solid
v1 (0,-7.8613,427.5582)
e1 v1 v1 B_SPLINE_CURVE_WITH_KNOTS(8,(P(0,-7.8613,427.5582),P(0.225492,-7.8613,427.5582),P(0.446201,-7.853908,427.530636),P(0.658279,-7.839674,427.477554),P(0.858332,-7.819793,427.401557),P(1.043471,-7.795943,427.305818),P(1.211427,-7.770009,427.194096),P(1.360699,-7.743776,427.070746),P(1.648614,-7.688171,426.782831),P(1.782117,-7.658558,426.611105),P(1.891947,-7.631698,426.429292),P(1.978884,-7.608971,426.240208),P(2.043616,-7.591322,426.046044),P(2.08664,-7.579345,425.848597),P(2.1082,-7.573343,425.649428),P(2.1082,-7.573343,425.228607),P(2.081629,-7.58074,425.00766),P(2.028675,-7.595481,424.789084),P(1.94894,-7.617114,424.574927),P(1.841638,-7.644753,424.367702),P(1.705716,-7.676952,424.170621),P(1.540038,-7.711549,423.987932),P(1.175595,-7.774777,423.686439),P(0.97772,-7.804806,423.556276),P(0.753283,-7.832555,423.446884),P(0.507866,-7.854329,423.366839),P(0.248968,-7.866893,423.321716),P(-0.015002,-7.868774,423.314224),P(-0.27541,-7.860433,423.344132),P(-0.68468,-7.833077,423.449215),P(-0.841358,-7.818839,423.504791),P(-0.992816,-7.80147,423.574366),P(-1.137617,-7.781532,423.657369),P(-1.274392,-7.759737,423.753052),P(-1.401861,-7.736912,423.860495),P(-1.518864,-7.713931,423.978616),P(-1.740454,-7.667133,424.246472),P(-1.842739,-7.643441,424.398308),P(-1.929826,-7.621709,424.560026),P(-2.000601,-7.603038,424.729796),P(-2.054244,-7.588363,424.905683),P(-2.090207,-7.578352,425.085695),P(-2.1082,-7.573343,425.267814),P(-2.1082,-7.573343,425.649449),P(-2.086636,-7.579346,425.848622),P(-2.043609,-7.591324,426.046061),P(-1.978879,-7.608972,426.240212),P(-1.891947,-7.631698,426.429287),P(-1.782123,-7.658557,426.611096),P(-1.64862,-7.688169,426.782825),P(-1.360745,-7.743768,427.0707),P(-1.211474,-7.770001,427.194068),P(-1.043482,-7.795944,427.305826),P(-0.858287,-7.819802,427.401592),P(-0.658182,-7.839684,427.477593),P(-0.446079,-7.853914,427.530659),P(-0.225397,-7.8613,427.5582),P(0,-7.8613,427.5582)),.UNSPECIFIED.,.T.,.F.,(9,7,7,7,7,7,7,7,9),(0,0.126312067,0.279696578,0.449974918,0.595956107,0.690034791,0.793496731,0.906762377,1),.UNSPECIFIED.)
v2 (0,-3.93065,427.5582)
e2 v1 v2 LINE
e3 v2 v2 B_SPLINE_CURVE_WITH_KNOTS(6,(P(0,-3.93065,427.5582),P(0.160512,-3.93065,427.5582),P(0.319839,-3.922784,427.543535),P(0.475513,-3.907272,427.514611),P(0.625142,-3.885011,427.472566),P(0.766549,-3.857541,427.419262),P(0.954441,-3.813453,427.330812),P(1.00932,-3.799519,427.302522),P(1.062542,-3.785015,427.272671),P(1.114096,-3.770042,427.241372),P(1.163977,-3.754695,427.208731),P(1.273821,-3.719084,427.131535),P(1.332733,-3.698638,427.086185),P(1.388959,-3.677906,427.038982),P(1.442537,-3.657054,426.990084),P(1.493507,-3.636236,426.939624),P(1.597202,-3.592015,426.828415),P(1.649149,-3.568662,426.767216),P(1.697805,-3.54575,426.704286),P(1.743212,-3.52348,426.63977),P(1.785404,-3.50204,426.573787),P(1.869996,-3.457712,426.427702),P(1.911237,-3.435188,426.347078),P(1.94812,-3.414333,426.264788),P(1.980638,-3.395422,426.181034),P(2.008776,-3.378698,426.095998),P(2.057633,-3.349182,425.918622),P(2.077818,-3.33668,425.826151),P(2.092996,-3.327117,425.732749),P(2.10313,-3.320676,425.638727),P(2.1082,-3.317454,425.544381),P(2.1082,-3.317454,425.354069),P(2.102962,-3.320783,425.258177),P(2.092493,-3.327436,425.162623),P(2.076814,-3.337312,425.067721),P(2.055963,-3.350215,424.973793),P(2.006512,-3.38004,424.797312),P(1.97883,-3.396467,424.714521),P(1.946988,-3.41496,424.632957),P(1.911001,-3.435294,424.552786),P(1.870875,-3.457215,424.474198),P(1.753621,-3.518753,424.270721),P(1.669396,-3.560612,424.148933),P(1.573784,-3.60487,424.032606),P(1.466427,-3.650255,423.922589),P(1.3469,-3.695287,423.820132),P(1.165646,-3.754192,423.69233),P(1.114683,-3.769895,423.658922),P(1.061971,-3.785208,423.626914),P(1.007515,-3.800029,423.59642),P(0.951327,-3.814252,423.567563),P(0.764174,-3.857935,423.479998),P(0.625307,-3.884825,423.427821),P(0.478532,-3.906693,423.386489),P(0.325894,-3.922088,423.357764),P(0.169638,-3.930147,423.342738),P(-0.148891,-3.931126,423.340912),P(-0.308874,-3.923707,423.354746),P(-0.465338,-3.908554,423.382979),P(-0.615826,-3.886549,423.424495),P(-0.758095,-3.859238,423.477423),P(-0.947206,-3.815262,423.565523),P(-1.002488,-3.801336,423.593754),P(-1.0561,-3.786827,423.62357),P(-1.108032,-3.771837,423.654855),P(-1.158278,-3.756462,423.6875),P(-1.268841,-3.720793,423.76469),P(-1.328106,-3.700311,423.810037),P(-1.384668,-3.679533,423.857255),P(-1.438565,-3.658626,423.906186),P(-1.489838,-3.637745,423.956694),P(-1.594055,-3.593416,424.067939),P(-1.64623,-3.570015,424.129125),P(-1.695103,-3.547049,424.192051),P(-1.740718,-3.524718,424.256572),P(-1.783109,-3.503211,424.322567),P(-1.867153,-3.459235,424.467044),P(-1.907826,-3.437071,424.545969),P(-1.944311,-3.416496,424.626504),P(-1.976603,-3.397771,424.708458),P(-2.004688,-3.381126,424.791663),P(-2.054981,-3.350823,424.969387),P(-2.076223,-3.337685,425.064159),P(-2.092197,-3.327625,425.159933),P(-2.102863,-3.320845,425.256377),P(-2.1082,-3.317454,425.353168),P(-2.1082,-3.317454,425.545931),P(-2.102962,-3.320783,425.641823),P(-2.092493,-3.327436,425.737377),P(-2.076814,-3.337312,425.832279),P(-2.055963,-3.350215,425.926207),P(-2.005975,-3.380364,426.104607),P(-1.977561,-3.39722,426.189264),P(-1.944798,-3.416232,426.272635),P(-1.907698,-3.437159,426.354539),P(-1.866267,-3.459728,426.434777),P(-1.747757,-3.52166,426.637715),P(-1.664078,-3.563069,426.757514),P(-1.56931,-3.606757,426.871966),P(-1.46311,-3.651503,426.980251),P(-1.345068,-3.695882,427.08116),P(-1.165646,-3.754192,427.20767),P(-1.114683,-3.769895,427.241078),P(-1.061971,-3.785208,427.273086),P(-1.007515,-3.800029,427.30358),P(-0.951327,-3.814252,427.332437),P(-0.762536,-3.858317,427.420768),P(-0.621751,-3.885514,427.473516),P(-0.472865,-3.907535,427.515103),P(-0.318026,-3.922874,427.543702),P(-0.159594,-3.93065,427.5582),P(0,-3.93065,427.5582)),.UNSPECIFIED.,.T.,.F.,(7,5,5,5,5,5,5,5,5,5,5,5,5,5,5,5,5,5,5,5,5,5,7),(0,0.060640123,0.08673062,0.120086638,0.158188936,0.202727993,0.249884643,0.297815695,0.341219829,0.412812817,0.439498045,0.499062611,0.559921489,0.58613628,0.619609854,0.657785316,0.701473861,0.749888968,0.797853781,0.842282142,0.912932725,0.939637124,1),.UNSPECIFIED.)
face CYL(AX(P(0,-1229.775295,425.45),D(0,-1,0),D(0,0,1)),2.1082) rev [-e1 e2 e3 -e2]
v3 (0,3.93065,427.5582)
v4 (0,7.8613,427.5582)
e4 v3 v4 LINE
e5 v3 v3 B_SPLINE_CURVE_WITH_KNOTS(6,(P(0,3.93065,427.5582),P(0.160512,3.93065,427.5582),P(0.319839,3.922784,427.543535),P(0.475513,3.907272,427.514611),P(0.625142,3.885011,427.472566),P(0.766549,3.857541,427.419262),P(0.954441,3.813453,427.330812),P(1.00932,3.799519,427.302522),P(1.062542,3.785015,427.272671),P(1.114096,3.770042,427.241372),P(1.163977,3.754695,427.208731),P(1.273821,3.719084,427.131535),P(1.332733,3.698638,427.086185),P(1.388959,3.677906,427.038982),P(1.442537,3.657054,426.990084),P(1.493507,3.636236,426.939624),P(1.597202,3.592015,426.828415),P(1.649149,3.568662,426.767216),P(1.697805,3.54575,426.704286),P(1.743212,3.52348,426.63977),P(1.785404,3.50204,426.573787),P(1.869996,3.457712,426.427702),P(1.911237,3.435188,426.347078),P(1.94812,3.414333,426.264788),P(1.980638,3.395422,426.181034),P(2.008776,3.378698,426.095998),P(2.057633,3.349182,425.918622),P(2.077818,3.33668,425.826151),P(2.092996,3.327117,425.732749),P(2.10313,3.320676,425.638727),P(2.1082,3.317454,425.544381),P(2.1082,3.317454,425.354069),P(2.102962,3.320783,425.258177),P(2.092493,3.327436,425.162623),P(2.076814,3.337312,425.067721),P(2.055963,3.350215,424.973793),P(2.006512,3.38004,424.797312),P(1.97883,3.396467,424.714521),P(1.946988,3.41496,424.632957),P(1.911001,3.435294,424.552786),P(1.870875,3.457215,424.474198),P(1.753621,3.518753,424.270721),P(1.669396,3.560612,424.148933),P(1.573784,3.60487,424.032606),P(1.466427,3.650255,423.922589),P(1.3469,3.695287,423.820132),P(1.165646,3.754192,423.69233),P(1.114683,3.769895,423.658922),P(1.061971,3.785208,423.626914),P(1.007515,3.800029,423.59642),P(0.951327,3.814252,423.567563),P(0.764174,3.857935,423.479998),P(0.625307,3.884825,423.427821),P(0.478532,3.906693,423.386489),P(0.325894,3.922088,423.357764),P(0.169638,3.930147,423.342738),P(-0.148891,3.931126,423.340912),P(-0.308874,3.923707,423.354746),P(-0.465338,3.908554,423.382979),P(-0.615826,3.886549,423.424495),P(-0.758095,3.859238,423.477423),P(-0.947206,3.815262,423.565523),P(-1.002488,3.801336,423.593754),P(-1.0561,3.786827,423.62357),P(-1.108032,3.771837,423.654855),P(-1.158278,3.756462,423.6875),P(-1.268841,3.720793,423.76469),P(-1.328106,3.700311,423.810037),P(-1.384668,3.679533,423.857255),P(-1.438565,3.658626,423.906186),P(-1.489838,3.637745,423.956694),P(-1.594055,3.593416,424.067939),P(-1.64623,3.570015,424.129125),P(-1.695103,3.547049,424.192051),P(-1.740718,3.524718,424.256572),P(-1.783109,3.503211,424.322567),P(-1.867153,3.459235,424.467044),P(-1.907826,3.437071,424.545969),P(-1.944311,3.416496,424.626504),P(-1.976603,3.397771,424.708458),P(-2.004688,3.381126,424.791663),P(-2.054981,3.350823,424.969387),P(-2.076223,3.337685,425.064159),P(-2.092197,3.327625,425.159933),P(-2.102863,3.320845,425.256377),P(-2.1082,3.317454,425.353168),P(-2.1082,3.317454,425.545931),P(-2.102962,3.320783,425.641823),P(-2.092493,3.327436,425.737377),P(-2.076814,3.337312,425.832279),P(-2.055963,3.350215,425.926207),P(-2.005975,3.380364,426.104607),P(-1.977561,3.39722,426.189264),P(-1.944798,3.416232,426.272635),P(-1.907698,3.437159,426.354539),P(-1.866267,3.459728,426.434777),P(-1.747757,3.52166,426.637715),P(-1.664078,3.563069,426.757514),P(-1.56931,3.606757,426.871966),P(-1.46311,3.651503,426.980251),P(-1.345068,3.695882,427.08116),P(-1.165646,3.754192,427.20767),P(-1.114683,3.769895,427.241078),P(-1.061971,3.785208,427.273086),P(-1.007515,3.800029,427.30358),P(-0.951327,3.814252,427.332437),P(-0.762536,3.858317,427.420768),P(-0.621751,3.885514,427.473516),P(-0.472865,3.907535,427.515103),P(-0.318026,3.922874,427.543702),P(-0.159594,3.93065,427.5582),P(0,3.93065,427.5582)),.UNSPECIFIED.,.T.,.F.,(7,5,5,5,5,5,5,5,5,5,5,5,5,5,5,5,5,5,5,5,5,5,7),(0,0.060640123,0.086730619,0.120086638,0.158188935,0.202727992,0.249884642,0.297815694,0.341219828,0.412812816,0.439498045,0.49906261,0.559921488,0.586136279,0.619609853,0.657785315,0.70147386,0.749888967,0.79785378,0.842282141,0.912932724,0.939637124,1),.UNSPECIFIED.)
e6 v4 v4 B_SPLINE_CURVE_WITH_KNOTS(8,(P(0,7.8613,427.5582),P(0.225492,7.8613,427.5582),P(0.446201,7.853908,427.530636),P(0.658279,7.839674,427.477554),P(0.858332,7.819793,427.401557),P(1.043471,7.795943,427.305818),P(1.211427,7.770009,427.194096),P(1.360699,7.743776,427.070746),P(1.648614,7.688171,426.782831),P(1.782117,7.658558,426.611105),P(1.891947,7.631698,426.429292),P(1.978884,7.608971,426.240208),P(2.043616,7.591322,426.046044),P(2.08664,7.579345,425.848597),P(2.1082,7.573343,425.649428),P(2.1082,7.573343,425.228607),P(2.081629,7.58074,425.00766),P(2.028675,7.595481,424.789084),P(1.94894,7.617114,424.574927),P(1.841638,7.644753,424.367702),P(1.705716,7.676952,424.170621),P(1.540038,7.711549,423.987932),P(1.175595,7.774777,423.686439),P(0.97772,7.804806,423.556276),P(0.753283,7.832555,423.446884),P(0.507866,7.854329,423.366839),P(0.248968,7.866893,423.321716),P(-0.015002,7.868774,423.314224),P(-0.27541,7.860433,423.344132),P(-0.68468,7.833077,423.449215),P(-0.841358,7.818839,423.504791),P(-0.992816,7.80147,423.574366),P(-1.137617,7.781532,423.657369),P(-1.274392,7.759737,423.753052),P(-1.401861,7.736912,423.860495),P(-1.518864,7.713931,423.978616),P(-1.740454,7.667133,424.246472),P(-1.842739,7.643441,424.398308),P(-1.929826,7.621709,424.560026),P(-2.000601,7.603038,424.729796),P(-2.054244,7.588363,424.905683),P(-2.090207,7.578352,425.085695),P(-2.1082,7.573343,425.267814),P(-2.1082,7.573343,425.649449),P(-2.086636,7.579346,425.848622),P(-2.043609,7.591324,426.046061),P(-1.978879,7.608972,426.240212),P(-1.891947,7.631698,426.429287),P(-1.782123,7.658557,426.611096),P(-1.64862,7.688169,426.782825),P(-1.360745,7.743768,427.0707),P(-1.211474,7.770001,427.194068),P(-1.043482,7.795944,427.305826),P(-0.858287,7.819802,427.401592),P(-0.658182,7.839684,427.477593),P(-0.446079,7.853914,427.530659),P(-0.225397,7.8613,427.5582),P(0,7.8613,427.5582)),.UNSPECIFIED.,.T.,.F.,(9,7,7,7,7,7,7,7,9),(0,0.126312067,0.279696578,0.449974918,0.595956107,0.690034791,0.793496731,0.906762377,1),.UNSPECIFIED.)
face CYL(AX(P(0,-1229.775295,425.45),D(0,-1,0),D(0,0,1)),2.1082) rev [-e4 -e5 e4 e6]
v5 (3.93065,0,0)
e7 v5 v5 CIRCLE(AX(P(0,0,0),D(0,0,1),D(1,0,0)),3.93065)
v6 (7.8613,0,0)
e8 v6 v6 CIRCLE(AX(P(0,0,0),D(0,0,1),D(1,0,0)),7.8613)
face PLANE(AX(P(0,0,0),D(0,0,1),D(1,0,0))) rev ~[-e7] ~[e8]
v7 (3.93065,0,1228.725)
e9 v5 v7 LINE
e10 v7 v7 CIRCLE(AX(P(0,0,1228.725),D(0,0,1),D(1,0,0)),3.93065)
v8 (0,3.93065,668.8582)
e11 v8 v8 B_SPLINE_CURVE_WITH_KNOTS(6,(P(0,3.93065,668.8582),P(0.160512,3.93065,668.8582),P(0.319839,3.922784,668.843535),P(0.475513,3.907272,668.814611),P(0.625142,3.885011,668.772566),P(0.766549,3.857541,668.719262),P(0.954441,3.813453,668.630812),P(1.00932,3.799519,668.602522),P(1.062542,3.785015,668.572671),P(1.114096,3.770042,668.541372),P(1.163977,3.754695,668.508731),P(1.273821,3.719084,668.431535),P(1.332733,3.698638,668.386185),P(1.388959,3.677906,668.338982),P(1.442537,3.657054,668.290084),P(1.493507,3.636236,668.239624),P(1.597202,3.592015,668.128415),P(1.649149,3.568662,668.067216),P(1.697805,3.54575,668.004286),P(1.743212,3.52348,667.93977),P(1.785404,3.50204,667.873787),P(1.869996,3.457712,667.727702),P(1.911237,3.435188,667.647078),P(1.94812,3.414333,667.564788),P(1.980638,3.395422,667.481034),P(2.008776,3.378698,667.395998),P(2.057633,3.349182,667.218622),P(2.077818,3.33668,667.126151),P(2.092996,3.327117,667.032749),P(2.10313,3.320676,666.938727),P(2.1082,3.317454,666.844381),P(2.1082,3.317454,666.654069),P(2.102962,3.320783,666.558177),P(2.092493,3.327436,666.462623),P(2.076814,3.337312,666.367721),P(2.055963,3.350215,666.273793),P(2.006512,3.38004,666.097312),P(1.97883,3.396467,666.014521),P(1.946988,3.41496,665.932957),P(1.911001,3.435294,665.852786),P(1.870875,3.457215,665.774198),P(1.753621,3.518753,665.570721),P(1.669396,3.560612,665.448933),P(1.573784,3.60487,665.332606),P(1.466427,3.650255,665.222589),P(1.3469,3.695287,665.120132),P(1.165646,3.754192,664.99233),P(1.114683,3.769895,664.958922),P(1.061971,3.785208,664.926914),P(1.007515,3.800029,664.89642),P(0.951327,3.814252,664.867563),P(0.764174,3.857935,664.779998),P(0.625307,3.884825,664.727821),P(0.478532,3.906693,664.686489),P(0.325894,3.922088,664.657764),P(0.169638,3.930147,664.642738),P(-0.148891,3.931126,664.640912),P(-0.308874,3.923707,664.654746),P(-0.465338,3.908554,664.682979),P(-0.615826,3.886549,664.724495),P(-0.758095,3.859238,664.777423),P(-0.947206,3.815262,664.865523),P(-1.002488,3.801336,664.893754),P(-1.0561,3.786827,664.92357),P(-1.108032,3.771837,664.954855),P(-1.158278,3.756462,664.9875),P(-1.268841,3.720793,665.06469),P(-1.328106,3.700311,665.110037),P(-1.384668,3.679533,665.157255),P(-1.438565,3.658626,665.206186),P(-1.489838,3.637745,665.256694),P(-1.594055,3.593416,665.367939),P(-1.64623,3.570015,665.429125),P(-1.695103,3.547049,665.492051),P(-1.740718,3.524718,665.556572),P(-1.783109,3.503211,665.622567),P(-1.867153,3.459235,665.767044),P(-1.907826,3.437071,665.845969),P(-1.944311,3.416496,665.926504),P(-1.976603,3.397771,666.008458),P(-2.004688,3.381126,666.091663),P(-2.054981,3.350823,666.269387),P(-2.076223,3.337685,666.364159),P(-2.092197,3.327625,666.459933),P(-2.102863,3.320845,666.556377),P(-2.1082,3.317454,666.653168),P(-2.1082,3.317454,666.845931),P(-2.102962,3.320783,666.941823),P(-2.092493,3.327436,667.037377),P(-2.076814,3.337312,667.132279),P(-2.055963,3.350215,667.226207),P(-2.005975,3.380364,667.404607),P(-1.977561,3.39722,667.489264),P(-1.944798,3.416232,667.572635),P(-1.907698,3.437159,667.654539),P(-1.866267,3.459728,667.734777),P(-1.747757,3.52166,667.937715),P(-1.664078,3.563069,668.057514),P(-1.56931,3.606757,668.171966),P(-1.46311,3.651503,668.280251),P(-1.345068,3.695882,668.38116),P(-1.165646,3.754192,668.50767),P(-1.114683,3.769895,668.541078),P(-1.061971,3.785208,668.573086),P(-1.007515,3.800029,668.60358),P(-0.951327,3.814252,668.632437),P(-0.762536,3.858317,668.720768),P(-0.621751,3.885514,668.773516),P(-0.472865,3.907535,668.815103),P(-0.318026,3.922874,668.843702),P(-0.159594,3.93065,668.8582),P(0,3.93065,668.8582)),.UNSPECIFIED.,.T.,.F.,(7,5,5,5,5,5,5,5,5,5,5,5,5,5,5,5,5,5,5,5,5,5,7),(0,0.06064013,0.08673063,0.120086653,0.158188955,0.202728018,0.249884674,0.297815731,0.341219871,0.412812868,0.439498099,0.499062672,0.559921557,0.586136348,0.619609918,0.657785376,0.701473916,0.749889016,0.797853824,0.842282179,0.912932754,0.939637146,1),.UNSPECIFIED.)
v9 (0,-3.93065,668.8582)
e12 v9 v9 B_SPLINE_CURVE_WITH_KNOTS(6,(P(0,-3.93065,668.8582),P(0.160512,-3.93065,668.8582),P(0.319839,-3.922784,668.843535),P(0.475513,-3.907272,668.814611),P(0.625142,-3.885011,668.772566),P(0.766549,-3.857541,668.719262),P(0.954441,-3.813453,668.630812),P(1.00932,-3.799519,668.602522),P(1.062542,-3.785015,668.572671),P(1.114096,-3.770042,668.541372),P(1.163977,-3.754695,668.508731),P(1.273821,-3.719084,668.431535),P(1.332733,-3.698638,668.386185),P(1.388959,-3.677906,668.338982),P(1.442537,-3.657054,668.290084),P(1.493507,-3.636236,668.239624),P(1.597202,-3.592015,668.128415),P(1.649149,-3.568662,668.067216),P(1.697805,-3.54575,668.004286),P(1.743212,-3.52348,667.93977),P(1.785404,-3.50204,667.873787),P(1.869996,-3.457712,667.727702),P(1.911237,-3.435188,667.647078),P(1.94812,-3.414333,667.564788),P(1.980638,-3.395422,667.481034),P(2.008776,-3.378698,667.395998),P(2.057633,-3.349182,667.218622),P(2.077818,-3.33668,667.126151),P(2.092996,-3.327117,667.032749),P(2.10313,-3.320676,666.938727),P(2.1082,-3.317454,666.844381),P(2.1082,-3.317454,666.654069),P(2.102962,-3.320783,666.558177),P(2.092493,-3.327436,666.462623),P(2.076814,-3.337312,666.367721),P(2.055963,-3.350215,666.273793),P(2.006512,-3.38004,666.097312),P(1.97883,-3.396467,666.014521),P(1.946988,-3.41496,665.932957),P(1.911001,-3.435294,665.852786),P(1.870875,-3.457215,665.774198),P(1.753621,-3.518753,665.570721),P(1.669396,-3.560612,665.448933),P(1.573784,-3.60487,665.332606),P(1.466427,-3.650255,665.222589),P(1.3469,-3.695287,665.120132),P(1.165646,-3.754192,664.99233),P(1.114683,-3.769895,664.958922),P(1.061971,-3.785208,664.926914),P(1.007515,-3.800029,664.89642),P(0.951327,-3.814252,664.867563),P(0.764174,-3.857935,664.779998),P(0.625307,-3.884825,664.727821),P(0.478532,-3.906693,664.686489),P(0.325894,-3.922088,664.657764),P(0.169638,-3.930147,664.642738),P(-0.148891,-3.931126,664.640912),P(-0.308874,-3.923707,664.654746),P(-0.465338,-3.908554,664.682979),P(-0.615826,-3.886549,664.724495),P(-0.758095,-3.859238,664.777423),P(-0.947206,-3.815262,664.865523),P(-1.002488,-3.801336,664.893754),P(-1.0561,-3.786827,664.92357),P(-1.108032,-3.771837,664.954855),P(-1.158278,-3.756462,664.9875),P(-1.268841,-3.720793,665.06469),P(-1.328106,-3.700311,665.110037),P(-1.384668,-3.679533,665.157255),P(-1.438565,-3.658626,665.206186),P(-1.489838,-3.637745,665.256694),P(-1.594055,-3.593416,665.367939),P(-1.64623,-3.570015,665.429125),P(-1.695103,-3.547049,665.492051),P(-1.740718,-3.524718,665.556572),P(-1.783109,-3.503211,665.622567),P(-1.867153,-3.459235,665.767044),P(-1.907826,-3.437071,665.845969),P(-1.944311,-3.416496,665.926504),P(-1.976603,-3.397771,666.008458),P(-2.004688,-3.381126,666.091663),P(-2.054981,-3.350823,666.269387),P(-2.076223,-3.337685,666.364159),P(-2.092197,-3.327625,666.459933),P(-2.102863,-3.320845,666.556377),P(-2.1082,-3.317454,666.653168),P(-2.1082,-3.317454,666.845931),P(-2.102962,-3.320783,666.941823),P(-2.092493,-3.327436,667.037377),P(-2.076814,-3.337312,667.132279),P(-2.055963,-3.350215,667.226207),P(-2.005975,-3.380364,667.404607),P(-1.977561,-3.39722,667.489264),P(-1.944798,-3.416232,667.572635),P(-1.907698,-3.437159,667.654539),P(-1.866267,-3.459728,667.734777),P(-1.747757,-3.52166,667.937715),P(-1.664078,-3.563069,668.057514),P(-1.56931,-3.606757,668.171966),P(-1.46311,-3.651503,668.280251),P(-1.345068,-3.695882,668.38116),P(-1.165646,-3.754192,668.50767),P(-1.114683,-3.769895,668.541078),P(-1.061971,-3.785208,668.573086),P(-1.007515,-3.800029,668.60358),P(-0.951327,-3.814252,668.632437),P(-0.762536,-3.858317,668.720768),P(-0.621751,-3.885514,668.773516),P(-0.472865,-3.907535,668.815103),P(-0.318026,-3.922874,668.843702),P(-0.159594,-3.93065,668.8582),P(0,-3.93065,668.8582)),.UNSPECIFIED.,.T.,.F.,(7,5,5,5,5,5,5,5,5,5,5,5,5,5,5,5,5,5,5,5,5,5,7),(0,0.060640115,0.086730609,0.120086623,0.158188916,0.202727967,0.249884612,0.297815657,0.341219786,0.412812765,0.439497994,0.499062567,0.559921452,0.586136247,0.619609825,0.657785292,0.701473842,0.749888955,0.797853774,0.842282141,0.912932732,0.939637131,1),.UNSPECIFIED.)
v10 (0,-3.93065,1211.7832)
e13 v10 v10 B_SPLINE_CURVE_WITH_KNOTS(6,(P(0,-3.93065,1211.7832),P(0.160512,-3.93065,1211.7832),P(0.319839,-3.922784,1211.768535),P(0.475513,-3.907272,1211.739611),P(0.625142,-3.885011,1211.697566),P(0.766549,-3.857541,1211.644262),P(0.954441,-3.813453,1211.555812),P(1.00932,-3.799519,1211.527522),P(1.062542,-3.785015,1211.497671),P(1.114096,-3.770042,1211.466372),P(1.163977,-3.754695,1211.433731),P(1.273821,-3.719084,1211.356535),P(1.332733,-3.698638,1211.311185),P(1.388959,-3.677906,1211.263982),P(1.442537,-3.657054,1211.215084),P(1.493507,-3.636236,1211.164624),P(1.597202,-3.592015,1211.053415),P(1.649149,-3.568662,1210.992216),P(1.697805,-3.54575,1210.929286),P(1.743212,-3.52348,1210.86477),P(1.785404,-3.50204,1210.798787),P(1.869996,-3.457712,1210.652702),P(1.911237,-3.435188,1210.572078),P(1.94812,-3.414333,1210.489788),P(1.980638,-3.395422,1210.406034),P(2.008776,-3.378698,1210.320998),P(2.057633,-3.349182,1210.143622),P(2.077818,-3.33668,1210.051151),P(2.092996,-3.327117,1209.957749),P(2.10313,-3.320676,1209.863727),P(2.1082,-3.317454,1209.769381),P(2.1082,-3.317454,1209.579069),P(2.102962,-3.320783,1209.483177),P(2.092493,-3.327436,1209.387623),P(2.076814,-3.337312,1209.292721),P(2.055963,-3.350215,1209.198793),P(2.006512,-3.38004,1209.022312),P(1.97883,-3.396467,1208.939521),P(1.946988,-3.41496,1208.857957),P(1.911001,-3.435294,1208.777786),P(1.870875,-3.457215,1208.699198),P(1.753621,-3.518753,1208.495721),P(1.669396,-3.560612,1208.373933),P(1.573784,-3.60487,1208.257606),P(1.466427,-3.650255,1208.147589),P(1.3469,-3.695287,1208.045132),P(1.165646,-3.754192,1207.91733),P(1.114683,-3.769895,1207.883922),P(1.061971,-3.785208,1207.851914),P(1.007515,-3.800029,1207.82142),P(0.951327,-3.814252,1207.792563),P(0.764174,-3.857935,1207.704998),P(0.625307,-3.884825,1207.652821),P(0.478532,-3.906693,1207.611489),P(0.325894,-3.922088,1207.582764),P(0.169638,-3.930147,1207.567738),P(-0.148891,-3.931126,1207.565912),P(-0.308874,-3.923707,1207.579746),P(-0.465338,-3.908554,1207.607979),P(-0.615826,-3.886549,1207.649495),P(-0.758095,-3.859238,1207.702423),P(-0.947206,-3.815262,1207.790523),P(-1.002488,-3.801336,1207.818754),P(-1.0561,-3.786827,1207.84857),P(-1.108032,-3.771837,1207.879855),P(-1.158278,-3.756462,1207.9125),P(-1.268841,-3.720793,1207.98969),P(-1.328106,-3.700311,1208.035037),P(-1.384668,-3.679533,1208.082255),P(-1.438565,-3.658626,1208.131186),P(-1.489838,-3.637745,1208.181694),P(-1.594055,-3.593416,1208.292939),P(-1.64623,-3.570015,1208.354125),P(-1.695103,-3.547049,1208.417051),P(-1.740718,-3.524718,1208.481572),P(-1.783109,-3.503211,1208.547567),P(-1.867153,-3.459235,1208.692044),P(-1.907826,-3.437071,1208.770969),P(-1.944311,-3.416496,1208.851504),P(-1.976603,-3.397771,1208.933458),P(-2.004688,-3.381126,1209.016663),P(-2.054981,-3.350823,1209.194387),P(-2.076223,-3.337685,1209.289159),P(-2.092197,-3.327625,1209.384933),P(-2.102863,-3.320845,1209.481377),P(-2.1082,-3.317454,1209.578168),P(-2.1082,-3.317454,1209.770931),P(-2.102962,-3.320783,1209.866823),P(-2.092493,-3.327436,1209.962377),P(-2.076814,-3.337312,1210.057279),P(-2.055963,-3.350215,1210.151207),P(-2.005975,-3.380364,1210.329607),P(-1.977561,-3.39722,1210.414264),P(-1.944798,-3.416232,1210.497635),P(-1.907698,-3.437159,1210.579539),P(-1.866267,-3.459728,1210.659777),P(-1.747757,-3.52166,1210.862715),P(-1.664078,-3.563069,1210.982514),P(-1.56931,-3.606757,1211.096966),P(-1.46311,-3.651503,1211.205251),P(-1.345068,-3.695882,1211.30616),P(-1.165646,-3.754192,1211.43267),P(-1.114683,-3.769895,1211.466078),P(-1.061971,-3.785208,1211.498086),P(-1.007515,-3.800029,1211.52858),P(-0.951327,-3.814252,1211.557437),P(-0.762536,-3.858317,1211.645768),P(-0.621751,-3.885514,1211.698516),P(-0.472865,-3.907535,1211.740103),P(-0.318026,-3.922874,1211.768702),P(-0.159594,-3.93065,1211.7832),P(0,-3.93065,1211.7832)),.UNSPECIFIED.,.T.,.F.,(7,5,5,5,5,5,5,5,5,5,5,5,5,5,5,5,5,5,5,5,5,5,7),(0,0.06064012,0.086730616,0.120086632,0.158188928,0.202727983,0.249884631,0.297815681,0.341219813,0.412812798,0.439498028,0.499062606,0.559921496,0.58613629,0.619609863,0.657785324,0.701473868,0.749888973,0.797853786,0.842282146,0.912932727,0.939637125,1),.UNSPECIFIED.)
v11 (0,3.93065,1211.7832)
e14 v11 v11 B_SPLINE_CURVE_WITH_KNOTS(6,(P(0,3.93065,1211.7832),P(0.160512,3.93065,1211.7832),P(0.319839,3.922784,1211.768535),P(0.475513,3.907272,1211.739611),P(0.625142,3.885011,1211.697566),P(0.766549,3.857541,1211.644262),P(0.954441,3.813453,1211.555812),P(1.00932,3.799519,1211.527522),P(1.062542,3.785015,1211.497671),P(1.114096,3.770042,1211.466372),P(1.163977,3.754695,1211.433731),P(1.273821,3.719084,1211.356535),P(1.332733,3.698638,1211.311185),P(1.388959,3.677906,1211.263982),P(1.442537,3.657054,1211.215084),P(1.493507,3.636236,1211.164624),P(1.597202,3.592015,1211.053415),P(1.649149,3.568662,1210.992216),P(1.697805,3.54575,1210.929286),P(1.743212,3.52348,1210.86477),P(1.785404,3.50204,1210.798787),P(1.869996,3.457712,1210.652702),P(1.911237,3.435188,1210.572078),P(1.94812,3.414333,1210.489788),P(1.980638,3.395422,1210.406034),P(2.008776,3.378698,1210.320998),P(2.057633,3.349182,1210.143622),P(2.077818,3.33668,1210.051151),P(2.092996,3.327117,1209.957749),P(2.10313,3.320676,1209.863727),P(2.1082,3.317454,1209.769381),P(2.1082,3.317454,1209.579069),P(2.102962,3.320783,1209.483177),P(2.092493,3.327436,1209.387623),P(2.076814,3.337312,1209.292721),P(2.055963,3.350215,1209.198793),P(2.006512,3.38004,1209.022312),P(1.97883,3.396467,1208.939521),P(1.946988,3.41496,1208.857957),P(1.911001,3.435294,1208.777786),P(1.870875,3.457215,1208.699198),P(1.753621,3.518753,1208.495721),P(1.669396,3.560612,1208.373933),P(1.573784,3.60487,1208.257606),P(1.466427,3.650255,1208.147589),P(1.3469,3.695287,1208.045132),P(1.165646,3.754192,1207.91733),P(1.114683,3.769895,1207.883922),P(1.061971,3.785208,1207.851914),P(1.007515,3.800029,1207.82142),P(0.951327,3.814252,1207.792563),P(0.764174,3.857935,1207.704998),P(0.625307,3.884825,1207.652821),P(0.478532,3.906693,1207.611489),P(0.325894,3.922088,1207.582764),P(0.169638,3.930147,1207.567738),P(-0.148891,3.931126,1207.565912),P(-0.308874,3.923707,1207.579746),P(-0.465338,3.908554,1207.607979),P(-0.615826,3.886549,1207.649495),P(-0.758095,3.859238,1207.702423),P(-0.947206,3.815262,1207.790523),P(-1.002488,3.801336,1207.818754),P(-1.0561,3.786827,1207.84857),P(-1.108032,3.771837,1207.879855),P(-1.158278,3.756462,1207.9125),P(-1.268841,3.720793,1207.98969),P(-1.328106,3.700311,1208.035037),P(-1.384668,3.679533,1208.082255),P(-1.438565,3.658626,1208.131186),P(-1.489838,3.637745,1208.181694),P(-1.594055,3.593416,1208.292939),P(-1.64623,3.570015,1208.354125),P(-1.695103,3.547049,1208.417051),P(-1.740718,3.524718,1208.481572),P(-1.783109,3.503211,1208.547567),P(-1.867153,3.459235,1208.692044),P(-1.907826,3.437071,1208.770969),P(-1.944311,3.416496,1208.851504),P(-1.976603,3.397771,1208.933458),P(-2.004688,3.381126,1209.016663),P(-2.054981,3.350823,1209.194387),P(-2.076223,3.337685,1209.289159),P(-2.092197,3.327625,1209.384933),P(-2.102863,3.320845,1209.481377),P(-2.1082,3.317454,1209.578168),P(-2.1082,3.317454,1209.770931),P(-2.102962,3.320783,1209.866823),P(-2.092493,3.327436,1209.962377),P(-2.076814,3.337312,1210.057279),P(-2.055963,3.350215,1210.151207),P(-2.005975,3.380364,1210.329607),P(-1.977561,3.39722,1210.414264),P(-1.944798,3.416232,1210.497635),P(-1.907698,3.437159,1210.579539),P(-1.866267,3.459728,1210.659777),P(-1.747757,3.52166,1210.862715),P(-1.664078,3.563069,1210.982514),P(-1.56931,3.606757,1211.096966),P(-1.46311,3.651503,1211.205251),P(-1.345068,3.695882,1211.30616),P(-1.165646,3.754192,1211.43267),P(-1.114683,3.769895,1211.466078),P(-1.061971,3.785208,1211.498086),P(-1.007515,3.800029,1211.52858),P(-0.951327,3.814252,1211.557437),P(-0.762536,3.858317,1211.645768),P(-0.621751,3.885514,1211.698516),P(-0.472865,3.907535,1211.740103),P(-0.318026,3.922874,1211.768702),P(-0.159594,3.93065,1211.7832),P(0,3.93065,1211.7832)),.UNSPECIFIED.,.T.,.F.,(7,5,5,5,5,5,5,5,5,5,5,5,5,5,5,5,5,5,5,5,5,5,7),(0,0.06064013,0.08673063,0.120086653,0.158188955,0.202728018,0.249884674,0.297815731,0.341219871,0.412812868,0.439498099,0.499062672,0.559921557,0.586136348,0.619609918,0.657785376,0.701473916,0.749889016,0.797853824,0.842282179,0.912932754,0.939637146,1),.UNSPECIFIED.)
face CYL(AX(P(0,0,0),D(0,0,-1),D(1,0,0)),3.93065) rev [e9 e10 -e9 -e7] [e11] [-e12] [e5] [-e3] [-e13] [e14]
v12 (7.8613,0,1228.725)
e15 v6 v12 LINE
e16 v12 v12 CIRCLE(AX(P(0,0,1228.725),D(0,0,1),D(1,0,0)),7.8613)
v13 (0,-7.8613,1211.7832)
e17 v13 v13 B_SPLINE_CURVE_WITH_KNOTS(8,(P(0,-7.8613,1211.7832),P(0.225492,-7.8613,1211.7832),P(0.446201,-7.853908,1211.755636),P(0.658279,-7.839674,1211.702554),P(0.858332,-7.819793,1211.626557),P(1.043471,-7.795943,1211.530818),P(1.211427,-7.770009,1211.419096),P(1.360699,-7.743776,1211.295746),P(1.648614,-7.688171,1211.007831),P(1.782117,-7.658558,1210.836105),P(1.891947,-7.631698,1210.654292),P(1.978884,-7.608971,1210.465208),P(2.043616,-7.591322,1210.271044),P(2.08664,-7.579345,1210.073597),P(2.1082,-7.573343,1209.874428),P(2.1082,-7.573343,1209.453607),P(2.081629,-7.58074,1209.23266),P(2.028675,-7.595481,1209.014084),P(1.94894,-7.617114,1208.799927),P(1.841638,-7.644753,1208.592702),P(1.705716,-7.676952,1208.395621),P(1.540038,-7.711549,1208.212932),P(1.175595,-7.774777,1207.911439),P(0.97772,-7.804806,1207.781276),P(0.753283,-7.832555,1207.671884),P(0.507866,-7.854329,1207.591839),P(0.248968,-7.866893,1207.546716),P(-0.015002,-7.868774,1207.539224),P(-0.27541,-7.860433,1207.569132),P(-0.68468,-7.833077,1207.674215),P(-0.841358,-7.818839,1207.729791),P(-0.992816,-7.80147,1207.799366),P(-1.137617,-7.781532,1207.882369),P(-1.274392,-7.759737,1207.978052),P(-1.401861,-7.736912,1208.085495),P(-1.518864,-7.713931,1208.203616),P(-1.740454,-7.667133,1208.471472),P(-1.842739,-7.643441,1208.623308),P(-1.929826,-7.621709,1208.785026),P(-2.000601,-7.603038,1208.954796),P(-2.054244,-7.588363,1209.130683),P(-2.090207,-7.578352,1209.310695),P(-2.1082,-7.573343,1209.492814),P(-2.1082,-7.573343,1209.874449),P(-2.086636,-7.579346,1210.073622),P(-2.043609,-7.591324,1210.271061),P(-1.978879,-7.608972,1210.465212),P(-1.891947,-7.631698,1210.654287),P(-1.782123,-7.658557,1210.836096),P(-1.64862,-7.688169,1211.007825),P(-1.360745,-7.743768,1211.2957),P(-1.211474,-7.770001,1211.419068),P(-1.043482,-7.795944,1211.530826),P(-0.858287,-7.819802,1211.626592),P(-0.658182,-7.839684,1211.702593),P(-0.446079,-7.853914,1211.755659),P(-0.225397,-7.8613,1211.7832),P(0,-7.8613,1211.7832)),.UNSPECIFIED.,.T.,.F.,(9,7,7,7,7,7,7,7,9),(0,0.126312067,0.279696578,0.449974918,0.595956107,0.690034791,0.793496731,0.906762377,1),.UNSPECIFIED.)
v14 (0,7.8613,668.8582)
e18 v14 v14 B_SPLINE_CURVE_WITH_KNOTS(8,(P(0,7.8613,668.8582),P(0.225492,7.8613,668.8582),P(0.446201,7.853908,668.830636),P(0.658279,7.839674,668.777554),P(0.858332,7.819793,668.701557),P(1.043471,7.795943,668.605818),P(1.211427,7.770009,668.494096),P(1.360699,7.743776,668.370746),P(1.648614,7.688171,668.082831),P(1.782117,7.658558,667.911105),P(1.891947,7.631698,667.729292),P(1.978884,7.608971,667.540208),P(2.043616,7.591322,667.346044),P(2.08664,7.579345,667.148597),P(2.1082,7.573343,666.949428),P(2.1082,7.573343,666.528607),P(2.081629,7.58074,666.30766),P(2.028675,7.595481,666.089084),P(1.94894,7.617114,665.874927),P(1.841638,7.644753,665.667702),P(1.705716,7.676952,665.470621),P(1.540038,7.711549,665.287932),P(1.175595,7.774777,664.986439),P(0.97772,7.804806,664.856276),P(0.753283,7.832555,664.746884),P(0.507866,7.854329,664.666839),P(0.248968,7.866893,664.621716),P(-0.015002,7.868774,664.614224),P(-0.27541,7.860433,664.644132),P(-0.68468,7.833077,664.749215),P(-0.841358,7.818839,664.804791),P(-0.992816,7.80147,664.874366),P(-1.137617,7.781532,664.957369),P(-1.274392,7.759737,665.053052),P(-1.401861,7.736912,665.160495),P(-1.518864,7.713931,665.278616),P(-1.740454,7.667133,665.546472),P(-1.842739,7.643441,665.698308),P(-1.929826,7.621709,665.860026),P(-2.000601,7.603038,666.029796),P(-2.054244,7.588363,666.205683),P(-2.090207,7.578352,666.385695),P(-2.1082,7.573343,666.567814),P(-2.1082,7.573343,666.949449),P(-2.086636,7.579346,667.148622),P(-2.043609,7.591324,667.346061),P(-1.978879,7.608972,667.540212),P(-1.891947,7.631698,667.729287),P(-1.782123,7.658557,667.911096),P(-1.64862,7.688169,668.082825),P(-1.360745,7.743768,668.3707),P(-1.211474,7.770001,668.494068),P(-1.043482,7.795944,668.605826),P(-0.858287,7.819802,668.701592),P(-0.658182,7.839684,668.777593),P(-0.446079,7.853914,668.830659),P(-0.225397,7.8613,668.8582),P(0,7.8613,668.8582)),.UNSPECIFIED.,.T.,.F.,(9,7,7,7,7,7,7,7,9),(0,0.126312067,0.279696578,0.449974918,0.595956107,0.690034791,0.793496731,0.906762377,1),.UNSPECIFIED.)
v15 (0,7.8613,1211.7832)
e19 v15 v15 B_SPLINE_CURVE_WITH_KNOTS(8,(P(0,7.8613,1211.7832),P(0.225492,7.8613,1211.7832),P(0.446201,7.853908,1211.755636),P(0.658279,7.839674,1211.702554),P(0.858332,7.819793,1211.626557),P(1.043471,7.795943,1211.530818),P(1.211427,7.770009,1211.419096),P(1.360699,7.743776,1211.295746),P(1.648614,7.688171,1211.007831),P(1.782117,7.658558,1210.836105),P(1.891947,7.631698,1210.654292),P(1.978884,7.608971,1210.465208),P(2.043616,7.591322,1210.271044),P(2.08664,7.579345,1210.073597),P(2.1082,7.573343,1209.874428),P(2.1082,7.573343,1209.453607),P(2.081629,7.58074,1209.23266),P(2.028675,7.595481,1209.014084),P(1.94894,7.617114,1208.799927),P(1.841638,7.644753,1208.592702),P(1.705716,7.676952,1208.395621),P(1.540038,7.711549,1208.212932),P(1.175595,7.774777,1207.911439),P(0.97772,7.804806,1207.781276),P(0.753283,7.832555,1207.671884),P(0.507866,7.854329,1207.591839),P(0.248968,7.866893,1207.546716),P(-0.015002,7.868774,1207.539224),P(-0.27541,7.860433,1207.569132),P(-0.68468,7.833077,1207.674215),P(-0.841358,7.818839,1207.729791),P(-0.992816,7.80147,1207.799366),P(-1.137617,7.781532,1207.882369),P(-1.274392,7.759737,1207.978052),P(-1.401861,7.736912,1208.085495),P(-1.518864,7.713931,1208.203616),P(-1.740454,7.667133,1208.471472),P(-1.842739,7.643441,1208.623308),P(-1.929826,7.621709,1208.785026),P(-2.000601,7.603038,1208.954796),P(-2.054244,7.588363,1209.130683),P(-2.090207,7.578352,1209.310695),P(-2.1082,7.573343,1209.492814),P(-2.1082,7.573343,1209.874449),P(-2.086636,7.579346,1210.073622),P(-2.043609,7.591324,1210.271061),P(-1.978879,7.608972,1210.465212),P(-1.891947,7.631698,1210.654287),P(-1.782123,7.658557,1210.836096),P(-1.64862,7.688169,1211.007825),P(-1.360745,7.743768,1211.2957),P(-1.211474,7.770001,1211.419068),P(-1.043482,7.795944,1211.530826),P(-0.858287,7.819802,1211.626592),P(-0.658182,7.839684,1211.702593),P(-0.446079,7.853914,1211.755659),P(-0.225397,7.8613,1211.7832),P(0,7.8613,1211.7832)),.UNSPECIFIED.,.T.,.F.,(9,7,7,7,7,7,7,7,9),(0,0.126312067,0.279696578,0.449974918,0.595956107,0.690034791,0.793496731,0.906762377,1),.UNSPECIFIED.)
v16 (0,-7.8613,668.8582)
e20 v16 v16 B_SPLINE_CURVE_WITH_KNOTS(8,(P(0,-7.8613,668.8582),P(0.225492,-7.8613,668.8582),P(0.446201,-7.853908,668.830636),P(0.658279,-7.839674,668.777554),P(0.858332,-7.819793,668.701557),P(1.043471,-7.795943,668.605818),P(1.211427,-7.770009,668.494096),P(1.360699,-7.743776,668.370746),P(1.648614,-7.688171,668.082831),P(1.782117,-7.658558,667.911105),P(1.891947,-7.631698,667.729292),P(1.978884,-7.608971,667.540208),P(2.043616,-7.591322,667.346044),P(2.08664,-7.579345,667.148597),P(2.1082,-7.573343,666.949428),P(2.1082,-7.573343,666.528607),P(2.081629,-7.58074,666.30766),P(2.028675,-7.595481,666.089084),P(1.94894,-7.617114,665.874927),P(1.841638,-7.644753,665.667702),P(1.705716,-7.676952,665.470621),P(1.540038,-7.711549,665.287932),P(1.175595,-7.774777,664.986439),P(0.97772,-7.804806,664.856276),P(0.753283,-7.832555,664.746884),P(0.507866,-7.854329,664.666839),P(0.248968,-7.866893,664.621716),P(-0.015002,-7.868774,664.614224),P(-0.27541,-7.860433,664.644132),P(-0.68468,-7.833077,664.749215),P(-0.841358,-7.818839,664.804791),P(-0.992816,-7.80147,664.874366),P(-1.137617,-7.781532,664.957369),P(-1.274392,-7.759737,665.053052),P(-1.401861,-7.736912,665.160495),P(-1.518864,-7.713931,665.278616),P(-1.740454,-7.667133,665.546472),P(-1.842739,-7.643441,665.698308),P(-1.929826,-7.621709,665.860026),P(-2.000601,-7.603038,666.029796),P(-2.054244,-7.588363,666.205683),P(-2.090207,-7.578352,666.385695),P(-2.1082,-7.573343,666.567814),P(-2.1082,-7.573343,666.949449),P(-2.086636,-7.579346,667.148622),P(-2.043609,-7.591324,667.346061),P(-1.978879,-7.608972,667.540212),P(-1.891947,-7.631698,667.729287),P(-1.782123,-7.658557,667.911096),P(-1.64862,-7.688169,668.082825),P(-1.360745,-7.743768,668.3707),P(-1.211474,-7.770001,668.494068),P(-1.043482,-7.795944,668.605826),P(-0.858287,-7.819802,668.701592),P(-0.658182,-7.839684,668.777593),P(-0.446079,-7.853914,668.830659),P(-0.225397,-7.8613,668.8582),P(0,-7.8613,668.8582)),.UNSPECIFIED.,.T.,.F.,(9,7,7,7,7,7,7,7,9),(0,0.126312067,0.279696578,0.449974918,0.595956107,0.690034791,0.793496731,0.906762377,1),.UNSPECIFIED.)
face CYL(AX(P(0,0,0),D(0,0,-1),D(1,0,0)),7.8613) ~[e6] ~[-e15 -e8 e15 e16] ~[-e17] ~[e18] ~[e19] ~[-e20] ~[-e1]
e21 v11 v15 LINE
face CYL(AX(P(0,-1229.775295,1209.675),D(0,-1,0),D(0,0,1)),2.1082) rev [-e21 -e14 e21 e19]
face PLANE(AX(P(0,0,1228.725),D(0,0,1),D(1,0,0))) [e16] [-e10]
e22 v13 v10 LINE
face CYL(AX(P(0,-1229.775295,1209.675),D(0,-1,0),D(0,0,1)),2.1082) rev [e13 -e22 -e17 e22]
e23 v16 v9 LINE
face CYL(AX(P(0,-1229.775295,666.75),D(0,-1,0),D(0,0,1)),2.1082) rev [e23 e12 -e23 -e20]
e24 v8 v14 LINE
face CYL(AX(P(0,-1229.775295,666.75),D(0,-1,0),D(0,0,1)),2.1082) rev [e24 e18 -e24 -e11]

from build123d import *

# Parameters (mm, degrees)
SKETCH1_R        = 7.8613
SKETCH1_R_2      = 3.93065
ROD_DEPTH        = 1228.725
HOLES_DEPTH      = 1229.77529504
HOLES_DEPTH_BACK = 1229.77529504
SKETCH3_R        = 2.1082


with BuildPart() as part:
    # Sketch1 → Rod (new body)
    with BuildSketch(Plane.XY):
        Circle(SKETCH1_R)
        Circle(SKETCH1_R_2, mode=Mode.SUBTRACT)
    extrude(amount=ROD_DEPTH)

    # Sketch3 → Holes (cut, two sides: drawn at the far end of the back side and taken through both)
    with BuildSketch(Plane(origin=(0, 0, 0), x_dir=(1, 0, 0), z_dir=(0, 1, 0)).offset(-HOLES_DEPTH_BACK)):
        with Locations(Location((0, -425.45, 0), (0, 0, 270))):
            Circle(SKETCH3_R)
        with Locations(Location((0, -666.75, 0), (0, 0, 270))):
            Circle(SKETCH3_R)
        with Locations(Location((0, -1209.675, 0), (0, 0, 270))):
            Circle(SKETCH3_R)
    extrude(amount=HOLES_DEPTH + HOLES_DEPTH_BACK, mode=Mode.SUBTRACT)


solid = part.part
